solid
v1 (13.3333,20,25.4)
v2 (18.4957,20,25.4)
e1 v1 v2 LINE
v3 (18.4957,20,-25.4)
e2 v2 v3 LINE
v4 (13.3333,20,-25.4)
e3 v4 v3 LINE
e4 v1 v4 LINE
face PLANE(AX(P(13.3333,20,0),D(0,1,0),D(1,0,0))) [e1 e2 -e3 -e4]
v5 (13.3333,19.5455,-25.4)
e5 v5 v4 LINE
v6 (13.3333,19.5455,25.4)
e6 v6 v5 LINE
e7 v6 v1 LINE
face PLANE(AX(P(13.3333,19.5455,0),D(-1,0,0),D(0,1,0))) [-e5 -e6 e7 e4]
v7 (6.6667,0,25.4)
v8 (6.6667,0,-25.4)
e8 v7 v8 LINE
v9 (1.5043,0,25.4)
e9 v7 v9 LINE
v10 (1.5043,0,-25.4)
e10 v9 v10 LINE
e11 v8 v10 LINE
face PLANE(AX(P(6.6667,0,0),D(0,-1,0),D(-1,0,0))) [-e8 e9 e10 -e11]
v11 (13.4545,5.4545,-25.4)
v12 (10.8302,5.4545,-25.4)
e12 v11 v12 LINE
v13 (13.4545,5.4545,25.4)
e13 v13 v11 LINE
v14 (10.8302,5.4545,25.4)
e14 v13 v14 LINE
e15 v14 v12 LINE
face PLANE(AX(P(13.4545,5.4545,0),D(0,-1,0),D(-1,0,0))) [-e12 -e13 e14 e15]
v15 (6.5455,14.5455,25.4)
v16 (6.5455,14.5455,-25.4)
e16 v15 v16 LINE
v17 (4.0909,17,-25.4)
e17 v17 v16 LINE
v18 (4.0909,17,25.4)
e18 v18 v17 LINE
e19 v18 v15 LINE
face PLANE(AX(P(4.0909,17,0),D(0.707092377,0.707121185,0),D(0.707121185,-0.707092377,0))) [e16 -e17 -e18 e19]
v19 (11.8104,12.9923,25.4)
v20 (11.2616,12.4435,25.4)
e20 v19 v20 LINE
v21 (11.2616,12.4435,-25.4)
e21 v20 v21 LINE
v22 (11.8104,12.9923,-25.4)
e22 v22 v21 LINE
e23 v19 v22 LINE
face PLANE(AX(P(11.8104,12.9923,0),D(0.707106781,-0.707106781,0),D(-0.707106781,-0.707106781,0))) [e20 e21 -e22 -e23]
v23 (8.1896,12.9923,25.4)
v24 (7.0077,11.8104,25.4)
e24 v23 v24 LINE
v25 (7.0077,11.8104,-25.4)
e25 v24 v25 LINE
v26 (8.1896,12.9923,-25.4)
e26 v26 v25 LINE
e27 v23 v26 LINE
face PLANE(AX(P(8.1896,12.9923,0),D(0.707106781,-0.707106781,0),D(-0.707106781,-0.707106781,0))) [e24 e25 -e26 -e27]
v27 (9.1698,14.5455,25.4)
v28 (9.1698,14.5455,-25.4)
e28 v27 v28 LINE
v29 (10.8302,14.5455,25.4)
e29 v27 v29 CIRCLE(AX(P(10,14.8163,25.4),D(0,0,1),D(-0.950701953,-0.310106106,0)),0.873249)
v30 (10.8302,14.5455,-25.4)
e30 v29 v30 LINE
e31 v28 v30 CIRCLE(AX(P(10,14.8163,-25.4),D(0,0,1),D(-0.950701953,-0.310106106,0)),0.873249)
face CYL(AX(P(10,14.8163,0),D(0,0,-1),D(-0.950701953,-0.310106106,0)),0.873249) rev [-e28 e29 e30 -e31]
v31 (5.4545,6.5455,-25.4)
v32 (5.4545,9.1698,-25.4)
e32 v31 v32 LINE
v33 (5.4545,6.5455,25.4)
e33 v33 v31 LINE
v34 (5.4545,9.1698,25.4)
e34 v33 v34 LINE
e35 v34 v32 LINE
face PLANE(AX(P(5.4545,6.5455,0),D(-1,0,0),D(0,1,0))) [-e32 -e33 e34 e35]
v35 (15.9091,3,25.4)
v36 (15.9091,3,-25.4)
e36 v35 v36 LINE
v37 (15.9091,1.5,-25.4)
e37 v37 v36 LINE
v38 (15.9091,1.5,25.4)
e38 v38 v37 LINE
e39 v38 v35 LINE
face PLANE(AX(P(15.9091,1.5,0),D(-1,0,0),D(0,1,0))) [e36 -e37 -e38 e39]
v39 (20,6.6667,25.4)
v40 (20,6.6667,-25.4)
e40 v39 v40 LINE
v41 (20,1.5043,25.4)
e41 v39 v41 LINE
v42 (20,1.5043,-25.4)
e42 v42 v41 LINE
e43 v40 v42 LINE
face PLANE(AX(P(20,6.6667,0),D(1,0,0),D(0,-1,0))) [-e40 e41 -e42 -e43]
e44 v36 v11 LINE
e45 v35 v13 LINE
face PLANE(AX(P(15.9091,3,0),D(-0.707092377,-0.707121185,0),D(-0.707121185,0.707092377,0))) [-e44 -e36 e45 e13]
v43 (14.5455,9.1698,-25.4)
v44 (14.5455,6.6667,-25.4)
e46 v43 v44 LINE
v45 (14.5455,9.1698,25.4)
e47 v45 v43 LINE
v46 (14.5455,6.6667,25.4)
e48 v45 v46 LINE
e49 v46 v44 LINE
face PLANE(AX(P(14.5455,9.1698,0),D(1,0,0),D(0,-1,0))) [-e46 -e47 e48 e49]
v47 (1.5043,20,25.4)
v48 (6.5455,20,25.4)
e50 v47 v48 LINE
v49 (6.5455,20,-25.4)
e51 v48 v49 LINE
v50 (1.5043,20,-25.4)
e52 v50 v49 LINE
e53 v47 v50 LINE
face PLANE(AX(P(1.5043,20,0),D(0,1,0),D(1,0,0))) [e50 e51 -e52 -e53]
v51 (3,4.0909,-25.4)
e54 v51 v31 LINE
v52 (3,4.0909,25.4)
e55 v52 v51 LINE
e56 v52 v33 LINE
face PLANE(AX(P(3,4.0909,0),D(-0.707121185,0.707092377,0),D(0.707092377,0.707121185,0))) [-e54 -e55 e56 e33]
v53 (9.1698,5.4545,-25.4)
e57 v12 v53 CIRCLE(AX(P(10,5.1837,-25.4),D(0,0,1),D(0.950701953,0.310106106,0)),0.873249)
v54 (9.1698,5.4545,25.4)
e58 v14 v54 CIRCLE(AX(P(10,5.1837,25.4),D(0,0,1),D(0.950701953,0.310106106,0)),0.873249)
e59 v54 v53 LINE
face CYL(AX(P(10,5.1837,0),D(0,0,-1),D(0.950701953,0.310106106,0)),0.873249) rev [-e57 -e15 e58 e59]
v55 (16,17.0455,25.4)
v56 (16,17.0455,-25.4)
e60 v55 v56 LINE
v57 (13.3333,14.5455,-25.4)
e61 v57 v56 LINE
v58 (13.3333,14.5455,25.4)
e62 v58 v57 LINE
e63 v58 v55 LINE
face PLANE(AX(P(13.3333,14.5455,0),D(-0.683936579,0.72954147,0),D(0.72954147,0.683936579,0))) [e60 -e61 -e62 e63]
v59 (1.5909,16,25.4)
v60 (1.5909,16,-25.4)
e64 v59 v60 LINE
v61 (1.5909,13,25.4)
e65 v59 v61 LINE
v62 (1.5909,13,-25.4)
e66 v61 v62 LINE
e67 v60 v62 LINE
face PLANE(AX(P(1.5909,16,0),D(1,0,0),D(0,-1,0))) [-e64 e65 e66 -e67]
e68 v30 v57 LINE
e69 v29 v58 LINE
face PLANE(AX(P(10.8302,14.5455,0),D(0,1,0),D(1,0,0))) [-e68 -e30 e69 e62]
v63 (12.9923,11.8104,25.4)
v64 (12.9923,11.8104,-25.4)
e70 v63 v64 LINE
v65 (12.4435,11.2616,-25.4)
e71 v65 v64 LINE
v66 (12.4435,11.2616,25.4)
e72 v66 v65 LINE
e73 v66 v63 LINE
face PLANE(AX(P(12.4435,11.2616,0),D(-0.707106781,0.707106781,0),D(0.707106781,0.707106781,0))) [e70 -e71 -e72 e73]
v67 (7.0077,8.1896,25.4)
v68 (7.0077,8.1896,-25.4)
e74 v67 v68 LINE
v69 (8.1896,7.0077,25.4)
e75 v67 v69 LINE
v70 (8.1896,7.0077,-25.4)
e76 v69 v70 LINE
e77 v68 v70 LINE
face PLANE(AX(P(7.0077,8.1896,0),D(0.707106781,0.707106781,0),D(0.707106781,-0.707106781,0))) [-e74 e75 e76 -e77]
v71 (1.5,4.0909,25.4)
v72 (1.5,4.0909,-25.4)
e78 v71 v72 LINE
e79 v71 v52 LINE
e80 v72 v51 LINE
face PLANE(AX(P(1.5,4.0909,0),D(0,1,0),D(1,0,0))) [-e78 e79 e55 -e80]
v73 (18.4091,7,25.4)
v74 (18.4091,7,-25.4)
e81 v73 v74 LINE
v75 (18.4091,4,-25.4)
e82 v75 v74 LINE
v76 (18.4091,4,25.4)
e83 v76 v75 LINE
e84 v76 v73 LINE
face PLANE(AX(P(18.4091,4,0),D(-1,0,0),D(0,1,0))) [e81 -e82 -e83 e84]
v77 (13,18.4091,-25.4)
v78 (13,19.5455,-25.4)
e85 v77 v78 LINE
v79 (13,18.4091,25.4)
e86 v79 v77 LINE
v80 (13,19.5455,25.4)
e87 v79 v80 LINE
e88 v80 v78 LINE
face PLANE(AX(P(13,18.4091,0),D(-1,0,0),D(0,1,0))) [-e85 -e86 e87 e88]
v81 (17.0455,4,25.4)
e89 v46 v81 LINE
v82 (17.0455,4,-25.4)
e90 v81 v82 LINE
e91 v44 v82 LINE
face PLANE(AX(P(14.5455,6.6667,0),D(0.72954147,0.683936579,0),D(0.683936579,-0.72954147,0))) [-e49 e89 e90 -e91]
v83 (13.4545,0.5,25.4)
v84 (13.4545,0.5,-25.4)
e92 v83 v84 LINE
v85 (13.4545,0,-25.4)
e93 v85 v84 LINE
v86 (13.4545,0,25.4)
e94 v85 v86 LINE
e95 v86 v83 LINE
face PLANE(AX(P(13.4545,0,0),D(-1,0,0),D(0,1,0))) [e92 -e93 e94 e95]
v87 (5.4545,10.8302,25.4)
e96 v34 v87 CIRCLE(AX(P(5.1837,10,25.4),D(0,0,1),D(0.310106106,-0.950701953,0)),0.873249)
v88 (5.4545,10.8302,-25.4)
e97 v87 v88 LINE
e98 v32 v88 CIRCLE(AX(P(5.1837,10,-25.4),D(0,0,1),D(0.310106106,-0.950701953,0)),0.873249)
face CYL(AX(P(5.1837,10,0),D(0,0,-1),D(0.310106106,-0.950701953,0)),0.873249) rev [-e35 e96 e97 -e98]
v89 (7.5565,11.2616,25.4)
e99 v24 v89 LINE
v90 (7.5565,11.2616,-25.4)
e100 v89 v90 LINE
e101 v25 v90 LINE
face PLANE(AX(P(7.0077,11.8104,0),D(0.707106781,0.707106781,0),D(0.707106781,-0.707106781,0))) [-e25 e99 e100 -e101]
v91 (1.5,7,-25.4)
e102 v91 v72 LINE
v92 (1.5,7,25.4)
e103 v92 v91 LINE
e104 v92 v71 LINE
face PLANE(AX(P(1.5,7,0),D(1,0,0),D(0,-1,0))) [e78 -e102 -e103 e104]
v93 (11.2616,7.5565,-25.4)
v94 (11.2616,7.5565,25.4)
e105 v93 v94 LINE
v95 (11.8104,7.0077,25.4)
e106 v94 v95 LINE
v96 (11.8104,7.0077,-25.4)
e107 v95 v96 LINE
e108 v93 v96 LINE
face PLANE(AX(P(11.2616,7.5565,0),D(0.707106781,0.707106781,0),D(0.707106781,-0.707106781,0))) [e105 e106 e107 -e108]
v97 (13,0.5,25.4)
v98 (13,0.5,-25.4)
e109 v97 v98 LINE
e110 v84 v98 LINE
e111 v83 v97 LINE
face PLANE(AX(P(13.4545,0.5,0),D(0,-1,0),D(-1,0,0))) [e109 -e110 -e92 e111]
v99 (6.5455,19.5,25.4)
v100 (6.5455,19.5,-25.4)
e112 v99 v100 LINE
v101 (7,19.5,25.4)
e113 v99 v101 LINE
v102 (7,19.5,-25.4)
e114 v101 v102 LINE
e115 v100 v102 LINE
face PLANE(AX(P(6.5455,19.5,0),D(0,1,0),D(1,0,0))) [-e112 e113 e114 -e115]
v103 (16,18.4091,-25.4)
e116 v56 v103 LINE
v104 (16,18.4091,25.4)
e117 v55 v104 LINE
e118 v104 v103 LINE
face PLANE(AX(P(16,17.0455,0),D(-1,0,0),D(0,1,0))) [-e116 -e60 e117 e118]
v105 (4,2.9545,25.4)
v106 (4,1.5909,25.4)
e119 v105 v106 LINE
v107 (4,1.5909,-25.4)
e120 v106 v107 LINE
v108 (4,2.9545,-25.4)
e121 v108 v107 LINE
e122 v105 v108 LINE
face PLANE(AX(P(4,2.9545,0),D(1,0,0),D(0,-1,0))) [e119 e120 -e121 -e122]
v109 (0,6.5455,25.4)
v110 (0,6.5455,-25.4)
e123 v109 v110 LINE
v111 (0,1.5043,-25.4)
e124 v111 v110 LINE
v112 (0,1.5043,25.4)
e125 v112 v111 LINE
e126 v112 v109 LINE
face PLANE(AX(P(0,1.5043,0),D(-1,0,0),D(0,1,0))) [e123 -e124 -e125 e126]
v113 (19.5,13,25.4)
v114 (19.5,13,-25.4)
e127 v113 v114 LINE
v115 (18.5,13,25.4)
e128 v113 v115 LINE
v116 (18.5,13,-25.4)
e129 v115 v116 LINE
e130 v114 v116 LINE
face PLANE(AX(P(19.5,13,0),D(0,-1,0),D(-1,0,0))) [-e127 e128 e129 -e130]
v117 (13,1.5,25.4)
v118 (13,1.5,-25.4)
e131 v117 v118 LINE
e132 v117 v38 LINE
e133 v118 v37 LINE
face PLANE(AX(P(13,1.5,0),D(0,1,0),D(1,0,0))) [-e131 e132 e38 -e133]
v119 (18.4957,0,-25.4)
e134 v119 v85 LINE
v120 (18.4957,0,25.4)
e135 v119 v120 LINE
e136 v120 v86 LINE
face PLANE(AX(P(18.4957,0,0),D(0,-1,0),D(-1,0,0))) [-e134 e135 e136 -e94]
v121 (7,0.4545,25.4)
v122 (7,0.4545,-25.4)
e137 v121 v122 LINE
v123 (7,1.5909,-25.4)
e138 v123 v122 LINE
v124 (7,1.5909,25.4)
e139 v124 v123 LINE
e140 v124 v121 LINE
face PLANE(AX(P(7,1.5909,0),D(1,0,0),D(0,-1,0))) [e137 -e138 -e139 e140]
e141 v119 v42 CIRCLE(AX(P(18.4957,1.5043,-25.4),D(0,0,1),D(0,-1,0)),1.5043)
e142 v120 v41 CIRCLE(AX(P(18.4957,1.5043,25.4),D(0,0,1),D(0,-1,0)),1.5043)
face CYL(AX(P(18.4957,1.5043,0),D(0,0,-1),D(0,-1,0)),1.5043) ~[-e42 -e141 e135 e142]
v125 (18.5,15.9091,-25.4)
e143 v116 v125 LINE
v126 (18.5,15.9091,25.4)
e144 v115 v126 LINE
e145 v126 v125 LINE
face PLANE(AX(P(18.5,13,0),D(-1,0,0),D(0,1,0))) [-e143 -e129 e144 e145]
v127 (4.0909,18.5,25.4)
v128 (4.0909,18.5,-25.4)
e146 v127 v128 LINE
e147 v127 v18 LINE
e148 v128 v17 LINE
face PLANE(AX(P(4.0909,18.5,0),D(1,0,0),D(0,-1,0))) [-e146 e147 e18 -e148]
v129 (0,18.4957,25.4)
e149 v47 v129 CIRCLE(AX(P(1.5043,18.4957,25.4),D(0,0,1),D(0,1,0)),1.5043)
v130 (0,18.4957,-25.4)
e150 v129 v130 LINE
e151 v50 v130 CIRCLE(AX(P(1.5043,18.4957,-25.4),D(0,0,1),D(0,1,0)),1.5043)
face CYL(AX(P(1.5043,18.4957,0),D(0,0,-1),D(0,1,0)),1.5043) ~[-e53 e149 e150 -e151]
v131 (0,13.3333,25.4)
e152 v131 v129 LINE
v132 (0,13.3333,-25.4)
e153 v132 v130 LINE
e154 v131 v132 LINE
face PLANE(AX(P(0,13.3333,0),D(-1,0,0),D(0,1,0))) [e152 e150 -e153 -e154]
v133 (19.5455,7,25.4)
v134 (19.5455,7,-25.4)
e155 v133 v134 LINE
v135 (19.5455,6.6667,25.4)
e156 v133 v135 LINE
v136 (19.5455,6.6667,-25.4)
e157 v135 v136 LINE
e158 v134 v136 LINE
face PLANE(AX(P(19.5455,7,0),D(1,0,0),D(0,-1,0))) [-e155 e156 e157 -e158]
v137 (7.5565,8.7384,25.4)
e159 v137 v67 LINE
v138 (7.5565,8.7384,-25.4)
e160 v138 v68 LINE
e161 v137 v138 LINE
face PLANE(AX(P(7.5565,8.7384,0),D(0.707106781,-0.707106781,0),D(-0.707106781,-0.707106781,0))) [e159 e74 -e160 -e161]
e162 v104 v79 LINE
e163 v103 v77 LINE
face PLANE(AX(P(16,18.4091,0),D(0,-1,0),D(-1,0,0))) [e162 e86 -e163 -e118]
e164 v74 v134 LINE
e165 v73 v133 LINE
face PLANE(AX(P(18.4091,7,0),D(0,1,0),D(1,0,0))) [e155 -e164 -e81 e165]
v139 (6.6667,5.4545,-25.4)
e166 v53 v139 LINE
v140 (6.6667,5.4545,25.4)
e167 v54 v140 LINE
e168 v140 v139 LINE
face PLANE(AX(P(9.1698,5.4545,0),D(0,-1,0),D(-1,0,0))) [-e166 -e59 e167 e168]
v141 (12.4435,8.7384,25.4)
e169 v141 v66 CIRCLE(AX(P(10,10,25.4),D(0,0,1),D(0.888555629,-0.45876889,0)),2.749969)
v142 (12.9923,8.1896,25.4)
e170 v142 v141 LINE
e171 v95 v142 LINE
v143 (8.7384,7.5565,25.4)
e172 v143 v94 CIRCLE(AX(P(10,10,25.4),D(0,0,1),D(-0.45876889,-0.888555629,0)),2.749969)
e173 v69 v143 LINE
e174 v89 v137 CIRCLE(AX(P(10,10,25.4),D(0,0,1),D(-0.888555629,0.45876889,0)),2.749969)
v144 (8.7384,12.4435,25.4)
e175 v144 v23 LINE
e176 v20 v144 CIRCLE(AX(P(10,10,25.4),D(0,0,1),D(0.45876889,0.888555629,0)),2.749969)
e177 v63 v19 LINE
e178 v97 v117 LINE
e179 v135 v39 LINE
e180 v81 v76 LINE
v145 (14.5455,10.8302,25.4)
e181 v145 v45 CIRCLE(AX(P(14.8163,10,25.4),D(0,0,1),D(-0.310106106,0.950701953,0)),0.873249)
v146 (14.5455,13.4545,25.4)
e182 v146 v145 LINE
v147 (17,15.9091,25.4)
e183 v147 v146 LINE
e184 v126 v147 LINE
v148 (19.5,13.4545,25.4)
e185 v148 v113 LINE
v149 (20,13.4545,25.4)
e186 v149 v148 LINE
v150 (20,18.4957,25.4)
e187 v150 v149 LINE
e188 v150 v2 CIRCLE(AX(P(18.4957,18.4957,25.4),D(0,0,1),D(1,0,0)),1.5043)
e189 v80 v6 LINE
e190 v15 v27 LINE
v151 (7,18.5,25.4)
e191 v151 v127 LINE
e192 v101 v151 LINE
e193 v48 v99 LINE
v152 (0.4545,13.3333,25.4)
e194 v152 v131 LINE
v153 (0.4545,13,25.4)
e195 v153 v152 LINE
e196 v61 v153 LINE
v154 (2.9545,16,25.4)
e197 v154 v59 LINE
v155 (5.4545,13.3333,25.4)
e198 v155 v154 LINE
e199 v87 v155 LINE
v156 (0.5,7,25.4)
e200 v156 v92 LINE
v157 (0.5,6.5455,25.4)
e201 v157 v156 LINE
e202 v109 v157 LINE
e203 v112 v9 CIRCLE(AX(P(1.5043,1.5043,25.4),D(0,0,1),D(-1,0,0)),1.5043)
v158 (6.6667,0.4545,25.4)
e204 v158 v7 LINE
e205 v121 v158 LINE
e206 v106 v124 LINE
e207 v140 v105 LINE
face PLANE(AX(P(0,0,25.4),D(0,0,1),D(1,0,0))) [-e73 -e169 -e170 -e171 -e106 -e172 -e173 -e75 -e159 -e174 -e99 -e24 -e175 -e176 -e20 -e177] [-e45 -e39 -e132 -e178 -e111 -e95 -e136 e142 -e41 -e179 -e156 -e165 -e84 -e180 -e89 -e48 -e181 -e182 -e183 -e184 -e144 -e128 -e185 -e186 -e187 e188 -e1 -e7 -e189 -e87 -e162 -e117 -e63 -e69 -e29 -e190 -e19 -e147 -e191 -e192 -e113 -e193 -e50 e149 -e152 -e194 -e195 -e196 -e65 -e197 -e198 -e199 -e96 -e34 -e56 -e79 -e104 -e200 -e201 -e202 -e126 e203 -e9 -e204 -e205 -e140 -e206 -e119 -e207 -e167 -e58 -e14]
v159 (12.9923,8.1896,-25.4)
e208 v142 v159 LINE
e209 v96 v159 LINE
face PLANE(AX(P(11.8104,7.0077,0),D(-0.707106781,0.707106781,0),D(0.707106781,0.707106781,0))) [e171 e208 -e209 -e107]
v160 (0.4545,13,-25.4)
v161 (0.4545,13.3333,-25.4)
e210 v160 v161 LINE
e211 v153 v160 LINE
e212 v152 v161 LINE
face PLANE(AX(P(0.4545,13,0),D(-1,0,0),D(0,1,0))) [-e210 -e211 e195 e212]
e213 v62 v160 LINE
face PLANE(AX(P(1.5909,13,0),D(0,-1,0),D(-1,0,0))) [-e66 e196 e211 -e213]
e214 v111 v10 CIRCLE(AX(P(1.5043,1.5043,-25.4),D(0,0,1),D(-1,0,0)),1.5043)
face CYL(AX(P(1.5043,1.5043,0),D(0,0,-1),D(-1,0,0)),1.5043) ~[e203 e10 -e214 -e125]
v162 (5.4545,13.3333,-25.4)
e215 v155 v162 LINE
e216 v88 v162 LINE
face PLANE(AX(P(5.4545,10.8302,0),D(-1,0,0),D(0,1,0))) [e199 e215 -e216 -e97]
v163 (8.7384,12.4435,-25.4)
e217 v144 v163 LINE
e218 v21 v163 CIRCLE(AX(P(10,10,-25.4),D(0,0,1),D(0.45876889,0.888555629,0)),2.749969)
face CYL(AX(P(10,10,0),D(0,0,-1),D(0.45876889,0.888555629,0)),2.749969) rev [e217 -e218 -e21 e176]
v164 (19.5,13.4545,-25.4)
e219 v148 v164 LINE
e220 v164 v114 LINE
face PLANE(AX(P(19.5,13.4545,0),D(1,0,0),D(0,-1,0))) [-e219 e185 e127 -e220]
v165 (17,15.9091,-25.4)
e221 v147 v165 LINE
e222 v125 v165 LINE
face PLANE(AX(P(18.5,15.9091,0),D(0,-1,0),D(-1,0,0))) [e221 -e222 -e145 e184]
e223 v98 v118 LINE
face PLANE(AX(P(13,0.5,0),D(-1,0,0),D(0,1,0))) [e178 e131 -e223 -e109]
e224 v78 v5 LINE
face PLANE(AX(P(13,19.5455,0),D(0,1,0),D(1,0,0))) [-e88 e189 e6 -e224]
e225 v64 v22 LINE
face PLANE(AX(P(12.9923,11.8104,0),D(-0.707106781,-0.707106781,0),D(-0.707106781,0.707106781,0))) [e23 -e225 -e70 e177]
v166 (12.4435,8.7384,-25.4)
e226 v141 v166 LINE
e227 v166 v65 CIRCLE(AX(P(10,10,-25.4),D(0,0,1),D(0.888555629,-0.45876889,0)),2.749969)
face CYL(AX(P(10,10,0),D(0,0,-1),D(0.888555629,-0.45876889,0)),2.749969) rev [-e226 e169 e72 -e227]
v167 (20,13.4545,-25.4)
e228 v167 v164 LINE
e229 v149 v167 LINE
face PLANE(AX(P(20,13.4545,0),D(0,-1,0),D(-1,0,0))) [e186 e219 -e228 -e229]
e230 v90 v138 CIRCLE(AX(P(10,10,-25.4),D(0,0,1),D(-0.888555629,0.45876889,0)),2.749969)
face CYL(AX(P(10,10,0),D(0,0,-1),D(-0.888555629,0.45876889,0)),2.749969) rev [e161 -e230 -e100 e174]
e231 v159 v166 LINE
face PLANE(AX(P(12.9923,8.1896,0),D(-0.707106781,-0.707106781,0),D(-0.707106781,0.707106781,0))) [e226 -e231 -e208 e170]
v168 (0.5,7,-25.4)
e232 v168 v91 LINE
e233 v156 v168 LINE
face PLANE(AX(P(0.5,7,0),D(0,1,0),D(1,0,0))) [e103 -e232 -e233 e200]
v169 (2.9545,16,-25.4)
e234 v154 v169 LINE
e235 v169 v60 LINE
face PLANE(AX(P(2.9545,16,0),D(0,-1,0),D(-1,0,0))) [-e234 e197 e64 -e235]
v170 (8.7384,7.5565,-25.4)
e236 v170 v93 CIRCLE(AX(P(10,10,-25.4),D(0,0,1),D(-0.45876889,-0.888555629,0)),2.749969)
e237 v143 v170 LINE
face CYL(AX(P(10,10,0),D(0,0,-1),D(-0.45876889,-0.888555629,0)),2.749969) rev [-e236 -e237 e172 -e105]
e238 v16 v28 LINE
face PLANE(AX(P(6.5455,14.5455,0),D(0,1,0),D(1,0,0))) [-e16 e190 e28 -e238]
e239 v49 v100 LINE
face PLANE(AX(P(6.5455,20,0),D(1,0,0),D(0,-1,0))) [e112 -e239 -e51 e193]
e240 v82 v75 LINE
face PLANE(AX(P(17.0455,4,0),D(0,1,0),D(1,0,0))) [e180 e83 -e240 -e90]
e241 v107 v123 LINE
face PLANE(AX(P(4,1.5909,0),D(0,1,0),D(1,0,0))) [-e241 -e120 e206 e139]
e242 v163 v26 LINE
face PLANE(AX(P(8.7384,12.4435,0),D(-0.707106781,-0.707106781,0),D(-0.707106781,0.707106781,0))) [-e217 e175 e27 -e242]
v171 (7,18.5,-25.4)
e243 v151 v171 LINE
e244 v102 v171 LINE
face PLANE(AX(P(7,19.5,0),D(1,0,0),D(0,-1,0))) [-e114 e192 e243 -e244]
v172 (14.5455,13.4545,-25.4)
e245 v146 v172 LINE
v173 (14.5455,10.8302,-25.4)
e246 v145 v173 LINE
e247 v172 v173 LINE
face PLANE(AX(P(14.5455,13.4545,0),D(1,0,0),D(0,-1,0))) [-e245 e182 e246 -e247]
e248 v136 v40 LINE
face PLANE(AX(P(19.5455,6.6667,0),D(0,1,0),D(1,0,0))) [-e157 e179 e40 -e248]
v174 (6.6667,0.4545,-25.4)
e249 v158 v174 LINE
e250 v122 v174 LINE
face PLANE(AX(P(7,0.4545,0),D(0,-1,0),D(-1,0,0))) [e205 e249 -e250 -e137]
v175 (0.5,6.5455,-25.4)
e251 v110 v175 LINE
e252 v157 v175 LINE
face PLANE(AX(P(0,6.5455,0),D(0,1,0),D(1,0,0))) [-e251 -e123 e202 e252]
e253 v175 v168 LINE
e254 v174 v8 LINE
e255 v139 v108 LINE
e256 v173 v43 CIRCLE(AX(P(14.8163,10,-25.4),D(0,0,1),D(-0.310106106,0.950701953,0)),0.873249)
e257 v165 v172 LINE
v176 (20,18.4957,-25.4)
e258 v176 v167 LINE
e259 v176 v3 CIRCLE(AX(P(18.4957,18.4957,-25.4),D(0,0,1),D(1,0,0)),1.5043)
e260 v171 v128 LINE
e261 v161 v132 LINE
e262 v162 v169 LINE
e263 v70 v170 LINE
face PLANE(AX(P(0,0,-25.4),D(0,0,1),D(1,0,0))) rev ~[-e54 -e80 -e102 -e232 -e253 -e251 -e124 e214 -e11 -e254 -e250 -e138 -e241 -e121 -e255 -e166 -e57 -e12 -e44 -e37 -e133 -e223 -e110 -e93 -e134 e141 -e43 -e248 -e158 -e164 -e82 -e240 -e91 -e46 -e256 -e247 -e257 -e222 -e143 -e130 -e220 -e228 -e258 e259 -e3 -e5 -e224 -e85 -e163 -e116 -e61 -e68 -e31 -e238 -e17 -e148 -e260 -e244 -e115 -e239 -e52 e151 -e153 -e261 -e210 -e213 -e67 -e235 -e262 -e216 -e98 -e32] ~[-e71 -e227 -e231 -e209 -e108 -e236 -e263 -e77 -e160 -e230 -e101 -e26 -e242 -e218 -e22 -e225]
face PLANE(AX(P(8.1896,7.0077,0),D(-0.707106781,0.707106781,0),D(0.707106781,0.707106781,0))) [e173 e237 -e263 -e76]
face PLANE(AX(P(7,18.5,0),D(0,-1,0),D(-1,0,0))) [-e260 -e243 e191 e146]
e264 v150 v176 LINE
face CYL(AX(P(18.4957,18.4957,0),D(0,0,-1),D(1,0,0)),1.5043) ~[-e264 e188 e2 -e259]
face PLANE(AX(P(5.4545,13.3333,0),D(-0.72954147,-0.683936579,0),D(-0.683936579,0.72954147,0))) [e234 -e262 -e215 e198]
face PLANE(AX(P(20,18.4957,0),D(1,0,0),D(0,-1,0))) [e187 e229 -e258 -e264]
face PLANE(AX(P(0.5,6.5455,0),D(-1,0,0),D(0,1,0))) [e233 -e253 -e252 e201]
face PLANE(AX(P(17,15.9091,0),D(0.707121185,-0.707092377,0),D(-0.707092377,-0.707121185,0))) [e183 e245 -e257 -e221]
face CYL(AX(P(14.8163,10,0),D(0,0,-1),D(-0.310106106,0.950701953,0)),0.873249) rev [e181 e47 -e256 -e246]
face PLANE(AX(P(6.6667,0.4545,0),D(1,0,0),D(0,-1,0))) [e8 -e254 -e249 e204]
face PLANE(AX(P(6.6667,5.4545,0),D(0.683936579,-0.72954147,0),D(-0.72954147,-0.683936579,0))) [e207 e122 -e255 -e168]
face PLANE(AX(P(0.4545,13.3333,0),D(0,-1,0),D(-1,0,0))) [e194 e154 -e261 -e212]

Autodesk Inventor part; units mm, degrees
sketch "Sketch1" plane through (0, 0, 0) normal (0, 0, 1) x (1, 0, 0)
  line L0 (11.2616, 7.5565) -> (11.8104, 7.0077)
  line L1 (11.8104, 7.0077) -> (12.9923, 8.1896)
  line L2 (12.9923, 8.1896) -> (12.4435, 8.7384)
  arc A0 (12.4435, 8.7384) -> (12.4435, 11.2616) centre (10, 10) ccw
  line L3 (12.4435, 11.2616) -> (12.9923, 11.8104)
  line L4 (12.9923, 11.8104) -> (11.8104, 12.9923)
  line L5 (11.8104, 12.9923) -> (11.2616, 12.4435)
  arc A1 (11.2616, 12.4435) -> (8.7384, 12.4435) centre (10, 10) ccw
  line L6 (8.7384, 12.4435) -> (8.1896, 12.9923)
  line L7 (8.1896, 12.9923) -> (7.0077, 11.8104)
  line L8 (7.0077, 11.8104) -> (7.5565, 11.2616)
  arc A2 (7.5565, 11.2616) -> (7.5565, 8.7384) centre (10, 10) ccw
  line L9 (7.5565, 8.7384) -> (7.0077, 8.1896)
  line L10 (7.0077, 8.1896) -> (8.1896, 7.0077)
  line L11 (8.1896, 7.0077) -> (8.7384, 7.5565)
  arc A3 (8.7384, 7.5565) -> (11.2616, 7.5565) centre (10, 10) ccw
  line L12 (13.4545, 0) -> (13.4545, 0.5)
  line L13 (13.4545, 0.5) -> (13, 0.5)
  line L14 (13, 0.5) -> (13, 1.5)
  line L15 (13, 1.5) -> (15.9091, 1.5)
  line L16 (15.9091, 1.5) -> (15.9091, 3)
  line L17 (15.9091, 3) -> (13.4545, 5.4545)
  line L18 (13.4545, 5.4545) -> (10.8302, 5.4545)
  arc A4 (10.8302, 5.4545) -> (9.1698, 5.4545) centre (10, 5.1837) ccw
  line L19 (9.1698, 5.4545) -> (6.6667, 5.4545)
  line L20 (6.6667, 5.4545) -> (4, 2.9545)
  line L21 (4, 2.9545) -> (4, 1.5909)
  line L22 (4, 1.5909) -> (7, 1.5909)
  line L23 (7, 1.5909) -> (7, 0.4545)
  line L24 (7, 0.4545) -> (6.6667, 0.4545)
  line L25 (6.6667, 0.4545) -> (6.6667, 0)
  line L26 (6.6667, 0) -> (1.5043, 0)
  arc A5 (0, 1.5043) -> (1.5043, 0) centre (1.5043, 1.5043) ccw
  line L27 (0, 1.5043) -> (0, 6.5455)
  line L28 (0, 6.5455) -> (0.5, 6.5455)
  line L29 (0.5, 6.5455) -> (0.5, 7)
  line L30 (0.5, 7) -> (1.5, 7)
  line L31 (1.5, 7) -> (1.5, 4.0909)
  line L32 (1.5, 4.0909) -> (3, 4.0909)
  line L33 (3, 4.0909) -> (5.4545, 6.5455)
  line L34 (5.4545, 6.5455) -> (5.4545, 9.1698)
  arc A6 (5.4545, 9.1698) -> (5.4545, 10.8302) centre (5.1837, 10) ccw
  line L35 (5.4545, 10.8302) -> (5.4545, 13.3333)
  line L36 (5.4545, 13.3333) -> (2.9545, 16)
  line L37 (2.9545, 16) -> (1.5909, 16)
  line L38 (1.5909, 16) -> (1.5909, 13)
  line L39 (1.5909, 13) -> (0.4545, 13)
  line L40 (0.4545, 13) -> (0.4545, 13.3333)
  line L41 (0.4545, 13.3333) -> (0, 13.3333)
  line L42 (0, 13.3333) -> (0, 18.4957)
  arc A7 (1.5043, 20) -> (0, 18.4957) centre (1.5043, 18.4957) ccw
  line L43 (1.5043, 20) -> (6.5455, 20)
  line L44 (6.5455, 20) -> (6.5455, 19.5)
  line L45 (6.5455, 19.5) -> (7, 19.5)
  line L46 (7, 19.5) -> (7, 18.5)
  line L47 (7, 18.5) -> (4.0909, 18.5)
  line L48 (4.0909, 18.5) -> (4.0909, 17)
  line L49 (4.0909, 17) -> (6.5455, 14.5455)
  line L50 (6.5455, 14.5455) -> (9.1698, 14.5455)
  arc A8 (9.1698, 14.5455) -> (10.8302, 14.5455) centre (10, 14.8163) ccw
  line L51 (10.8302, 14.5455) -> (13.3333, 14.5455)
  line L52 (13.3333, 14.5455) -> (16, 17.0455)
  line L53 (16, 17.0455) -> (16, 18.4091)
  line L54 (16, 18.4091) -> (13, 18.4091)
  line L55 (13, 18.4091) -> (13, 19.5455)
  line L56 (13, 19.5455) -> (13.3333, 19.5455)
  line L57 (13.3333, 19.5455) -> (13.3333, 20)
  line L58 (13.3333, 20) -> (18.4957, 20)
  arc A9 (20, 18.4957) -> (18.4957, 20) centre (18.4957, 18.4957) ccw
  line L59 (20, 18.4957) -> (20, 13.4545)
  line L60 (20, 13.4545) -> (19.5, 13.4545)
  line L61 (19.5, 13.4545) -> (19.5, 13)
  line L62 (19.5, 13) -> (18.5, 13)
  line L63 (18.5, 13) -> (18.5, 15.9091)
  line L64 (18.5, 15.9091) -> (17, 15.9091)
  line L65 (17, 15.9091) -> (14.5455, 13.4545)
  line L66 (14.5455, 13.4545) -> (14.5455, 10.8302)
  arc A10 (14.5455, 10.8302) -> (14.5455, 9.1698) centre (14.8163, 10) ccw
  line L67 (14.5455, 9.1698) -> (14.5455, 6.6667)
  line L68 (14.5455, 6.6667) -> (17.0455, 4)
  line L69 (17.0455, 4) -> (18.4091, 4)
  line L70 (18.4091, 4) -> (18.4091, 7)
  line L71 (18.4091, 7) -> (19.5455, 7)
  line L72 (19.5455, 7) -> (19.5455, 6.6667)
  line L73 (19.5455, 6.6667) -> (20, 6.6667)
  line L74 (20, 6.6667) -> (20, 1.5043)
  arc A11 (18.4957, 0) -> (20, 1.5043) centre (18.4957, 1.5043) ccw
  line L75 (18.4957, 0) -> (13.4545, 0)
  point P0 (0, 0)
  point P1 (0.4406, 0.4406)
  point P2 (10, 0)
  point P3 (10, 0)
  point P4 (10, 0)
  point P5 (19.5594, 0.4406)
  point P6 (0, 10)
  point P7 (0, 10)
  point P8 (0, 10)
  point P9 (10, 10)
  point P10 (20, 10)
  point P11 (20, 10)
  point P12 (20, 10)
  point P13 (0.4406, 19.5594)
  point P14 (10, 20)
  point P15 (10, 20)
  point P16 (10, 20)
  point P17 (19.5594, 19.5594)
extrude "Extrusion1" add sketch "Sketch1" along normal mid plane 50.8
ref_plane "Work Plane1" through (0, 0, 12.7) normal (0, 0, 1) x (1, 0, 0)
ref_plane "Work Plane2" through (1.5043, 20, 25.4) normal (0, 1, 0) x (1, 0, 0)
ref_plane "Work Plane3" through (10, 13.3333, 25.4) normal (-1, 0, 0) x (0, 0, 1)
properties part number "Verticle support"
